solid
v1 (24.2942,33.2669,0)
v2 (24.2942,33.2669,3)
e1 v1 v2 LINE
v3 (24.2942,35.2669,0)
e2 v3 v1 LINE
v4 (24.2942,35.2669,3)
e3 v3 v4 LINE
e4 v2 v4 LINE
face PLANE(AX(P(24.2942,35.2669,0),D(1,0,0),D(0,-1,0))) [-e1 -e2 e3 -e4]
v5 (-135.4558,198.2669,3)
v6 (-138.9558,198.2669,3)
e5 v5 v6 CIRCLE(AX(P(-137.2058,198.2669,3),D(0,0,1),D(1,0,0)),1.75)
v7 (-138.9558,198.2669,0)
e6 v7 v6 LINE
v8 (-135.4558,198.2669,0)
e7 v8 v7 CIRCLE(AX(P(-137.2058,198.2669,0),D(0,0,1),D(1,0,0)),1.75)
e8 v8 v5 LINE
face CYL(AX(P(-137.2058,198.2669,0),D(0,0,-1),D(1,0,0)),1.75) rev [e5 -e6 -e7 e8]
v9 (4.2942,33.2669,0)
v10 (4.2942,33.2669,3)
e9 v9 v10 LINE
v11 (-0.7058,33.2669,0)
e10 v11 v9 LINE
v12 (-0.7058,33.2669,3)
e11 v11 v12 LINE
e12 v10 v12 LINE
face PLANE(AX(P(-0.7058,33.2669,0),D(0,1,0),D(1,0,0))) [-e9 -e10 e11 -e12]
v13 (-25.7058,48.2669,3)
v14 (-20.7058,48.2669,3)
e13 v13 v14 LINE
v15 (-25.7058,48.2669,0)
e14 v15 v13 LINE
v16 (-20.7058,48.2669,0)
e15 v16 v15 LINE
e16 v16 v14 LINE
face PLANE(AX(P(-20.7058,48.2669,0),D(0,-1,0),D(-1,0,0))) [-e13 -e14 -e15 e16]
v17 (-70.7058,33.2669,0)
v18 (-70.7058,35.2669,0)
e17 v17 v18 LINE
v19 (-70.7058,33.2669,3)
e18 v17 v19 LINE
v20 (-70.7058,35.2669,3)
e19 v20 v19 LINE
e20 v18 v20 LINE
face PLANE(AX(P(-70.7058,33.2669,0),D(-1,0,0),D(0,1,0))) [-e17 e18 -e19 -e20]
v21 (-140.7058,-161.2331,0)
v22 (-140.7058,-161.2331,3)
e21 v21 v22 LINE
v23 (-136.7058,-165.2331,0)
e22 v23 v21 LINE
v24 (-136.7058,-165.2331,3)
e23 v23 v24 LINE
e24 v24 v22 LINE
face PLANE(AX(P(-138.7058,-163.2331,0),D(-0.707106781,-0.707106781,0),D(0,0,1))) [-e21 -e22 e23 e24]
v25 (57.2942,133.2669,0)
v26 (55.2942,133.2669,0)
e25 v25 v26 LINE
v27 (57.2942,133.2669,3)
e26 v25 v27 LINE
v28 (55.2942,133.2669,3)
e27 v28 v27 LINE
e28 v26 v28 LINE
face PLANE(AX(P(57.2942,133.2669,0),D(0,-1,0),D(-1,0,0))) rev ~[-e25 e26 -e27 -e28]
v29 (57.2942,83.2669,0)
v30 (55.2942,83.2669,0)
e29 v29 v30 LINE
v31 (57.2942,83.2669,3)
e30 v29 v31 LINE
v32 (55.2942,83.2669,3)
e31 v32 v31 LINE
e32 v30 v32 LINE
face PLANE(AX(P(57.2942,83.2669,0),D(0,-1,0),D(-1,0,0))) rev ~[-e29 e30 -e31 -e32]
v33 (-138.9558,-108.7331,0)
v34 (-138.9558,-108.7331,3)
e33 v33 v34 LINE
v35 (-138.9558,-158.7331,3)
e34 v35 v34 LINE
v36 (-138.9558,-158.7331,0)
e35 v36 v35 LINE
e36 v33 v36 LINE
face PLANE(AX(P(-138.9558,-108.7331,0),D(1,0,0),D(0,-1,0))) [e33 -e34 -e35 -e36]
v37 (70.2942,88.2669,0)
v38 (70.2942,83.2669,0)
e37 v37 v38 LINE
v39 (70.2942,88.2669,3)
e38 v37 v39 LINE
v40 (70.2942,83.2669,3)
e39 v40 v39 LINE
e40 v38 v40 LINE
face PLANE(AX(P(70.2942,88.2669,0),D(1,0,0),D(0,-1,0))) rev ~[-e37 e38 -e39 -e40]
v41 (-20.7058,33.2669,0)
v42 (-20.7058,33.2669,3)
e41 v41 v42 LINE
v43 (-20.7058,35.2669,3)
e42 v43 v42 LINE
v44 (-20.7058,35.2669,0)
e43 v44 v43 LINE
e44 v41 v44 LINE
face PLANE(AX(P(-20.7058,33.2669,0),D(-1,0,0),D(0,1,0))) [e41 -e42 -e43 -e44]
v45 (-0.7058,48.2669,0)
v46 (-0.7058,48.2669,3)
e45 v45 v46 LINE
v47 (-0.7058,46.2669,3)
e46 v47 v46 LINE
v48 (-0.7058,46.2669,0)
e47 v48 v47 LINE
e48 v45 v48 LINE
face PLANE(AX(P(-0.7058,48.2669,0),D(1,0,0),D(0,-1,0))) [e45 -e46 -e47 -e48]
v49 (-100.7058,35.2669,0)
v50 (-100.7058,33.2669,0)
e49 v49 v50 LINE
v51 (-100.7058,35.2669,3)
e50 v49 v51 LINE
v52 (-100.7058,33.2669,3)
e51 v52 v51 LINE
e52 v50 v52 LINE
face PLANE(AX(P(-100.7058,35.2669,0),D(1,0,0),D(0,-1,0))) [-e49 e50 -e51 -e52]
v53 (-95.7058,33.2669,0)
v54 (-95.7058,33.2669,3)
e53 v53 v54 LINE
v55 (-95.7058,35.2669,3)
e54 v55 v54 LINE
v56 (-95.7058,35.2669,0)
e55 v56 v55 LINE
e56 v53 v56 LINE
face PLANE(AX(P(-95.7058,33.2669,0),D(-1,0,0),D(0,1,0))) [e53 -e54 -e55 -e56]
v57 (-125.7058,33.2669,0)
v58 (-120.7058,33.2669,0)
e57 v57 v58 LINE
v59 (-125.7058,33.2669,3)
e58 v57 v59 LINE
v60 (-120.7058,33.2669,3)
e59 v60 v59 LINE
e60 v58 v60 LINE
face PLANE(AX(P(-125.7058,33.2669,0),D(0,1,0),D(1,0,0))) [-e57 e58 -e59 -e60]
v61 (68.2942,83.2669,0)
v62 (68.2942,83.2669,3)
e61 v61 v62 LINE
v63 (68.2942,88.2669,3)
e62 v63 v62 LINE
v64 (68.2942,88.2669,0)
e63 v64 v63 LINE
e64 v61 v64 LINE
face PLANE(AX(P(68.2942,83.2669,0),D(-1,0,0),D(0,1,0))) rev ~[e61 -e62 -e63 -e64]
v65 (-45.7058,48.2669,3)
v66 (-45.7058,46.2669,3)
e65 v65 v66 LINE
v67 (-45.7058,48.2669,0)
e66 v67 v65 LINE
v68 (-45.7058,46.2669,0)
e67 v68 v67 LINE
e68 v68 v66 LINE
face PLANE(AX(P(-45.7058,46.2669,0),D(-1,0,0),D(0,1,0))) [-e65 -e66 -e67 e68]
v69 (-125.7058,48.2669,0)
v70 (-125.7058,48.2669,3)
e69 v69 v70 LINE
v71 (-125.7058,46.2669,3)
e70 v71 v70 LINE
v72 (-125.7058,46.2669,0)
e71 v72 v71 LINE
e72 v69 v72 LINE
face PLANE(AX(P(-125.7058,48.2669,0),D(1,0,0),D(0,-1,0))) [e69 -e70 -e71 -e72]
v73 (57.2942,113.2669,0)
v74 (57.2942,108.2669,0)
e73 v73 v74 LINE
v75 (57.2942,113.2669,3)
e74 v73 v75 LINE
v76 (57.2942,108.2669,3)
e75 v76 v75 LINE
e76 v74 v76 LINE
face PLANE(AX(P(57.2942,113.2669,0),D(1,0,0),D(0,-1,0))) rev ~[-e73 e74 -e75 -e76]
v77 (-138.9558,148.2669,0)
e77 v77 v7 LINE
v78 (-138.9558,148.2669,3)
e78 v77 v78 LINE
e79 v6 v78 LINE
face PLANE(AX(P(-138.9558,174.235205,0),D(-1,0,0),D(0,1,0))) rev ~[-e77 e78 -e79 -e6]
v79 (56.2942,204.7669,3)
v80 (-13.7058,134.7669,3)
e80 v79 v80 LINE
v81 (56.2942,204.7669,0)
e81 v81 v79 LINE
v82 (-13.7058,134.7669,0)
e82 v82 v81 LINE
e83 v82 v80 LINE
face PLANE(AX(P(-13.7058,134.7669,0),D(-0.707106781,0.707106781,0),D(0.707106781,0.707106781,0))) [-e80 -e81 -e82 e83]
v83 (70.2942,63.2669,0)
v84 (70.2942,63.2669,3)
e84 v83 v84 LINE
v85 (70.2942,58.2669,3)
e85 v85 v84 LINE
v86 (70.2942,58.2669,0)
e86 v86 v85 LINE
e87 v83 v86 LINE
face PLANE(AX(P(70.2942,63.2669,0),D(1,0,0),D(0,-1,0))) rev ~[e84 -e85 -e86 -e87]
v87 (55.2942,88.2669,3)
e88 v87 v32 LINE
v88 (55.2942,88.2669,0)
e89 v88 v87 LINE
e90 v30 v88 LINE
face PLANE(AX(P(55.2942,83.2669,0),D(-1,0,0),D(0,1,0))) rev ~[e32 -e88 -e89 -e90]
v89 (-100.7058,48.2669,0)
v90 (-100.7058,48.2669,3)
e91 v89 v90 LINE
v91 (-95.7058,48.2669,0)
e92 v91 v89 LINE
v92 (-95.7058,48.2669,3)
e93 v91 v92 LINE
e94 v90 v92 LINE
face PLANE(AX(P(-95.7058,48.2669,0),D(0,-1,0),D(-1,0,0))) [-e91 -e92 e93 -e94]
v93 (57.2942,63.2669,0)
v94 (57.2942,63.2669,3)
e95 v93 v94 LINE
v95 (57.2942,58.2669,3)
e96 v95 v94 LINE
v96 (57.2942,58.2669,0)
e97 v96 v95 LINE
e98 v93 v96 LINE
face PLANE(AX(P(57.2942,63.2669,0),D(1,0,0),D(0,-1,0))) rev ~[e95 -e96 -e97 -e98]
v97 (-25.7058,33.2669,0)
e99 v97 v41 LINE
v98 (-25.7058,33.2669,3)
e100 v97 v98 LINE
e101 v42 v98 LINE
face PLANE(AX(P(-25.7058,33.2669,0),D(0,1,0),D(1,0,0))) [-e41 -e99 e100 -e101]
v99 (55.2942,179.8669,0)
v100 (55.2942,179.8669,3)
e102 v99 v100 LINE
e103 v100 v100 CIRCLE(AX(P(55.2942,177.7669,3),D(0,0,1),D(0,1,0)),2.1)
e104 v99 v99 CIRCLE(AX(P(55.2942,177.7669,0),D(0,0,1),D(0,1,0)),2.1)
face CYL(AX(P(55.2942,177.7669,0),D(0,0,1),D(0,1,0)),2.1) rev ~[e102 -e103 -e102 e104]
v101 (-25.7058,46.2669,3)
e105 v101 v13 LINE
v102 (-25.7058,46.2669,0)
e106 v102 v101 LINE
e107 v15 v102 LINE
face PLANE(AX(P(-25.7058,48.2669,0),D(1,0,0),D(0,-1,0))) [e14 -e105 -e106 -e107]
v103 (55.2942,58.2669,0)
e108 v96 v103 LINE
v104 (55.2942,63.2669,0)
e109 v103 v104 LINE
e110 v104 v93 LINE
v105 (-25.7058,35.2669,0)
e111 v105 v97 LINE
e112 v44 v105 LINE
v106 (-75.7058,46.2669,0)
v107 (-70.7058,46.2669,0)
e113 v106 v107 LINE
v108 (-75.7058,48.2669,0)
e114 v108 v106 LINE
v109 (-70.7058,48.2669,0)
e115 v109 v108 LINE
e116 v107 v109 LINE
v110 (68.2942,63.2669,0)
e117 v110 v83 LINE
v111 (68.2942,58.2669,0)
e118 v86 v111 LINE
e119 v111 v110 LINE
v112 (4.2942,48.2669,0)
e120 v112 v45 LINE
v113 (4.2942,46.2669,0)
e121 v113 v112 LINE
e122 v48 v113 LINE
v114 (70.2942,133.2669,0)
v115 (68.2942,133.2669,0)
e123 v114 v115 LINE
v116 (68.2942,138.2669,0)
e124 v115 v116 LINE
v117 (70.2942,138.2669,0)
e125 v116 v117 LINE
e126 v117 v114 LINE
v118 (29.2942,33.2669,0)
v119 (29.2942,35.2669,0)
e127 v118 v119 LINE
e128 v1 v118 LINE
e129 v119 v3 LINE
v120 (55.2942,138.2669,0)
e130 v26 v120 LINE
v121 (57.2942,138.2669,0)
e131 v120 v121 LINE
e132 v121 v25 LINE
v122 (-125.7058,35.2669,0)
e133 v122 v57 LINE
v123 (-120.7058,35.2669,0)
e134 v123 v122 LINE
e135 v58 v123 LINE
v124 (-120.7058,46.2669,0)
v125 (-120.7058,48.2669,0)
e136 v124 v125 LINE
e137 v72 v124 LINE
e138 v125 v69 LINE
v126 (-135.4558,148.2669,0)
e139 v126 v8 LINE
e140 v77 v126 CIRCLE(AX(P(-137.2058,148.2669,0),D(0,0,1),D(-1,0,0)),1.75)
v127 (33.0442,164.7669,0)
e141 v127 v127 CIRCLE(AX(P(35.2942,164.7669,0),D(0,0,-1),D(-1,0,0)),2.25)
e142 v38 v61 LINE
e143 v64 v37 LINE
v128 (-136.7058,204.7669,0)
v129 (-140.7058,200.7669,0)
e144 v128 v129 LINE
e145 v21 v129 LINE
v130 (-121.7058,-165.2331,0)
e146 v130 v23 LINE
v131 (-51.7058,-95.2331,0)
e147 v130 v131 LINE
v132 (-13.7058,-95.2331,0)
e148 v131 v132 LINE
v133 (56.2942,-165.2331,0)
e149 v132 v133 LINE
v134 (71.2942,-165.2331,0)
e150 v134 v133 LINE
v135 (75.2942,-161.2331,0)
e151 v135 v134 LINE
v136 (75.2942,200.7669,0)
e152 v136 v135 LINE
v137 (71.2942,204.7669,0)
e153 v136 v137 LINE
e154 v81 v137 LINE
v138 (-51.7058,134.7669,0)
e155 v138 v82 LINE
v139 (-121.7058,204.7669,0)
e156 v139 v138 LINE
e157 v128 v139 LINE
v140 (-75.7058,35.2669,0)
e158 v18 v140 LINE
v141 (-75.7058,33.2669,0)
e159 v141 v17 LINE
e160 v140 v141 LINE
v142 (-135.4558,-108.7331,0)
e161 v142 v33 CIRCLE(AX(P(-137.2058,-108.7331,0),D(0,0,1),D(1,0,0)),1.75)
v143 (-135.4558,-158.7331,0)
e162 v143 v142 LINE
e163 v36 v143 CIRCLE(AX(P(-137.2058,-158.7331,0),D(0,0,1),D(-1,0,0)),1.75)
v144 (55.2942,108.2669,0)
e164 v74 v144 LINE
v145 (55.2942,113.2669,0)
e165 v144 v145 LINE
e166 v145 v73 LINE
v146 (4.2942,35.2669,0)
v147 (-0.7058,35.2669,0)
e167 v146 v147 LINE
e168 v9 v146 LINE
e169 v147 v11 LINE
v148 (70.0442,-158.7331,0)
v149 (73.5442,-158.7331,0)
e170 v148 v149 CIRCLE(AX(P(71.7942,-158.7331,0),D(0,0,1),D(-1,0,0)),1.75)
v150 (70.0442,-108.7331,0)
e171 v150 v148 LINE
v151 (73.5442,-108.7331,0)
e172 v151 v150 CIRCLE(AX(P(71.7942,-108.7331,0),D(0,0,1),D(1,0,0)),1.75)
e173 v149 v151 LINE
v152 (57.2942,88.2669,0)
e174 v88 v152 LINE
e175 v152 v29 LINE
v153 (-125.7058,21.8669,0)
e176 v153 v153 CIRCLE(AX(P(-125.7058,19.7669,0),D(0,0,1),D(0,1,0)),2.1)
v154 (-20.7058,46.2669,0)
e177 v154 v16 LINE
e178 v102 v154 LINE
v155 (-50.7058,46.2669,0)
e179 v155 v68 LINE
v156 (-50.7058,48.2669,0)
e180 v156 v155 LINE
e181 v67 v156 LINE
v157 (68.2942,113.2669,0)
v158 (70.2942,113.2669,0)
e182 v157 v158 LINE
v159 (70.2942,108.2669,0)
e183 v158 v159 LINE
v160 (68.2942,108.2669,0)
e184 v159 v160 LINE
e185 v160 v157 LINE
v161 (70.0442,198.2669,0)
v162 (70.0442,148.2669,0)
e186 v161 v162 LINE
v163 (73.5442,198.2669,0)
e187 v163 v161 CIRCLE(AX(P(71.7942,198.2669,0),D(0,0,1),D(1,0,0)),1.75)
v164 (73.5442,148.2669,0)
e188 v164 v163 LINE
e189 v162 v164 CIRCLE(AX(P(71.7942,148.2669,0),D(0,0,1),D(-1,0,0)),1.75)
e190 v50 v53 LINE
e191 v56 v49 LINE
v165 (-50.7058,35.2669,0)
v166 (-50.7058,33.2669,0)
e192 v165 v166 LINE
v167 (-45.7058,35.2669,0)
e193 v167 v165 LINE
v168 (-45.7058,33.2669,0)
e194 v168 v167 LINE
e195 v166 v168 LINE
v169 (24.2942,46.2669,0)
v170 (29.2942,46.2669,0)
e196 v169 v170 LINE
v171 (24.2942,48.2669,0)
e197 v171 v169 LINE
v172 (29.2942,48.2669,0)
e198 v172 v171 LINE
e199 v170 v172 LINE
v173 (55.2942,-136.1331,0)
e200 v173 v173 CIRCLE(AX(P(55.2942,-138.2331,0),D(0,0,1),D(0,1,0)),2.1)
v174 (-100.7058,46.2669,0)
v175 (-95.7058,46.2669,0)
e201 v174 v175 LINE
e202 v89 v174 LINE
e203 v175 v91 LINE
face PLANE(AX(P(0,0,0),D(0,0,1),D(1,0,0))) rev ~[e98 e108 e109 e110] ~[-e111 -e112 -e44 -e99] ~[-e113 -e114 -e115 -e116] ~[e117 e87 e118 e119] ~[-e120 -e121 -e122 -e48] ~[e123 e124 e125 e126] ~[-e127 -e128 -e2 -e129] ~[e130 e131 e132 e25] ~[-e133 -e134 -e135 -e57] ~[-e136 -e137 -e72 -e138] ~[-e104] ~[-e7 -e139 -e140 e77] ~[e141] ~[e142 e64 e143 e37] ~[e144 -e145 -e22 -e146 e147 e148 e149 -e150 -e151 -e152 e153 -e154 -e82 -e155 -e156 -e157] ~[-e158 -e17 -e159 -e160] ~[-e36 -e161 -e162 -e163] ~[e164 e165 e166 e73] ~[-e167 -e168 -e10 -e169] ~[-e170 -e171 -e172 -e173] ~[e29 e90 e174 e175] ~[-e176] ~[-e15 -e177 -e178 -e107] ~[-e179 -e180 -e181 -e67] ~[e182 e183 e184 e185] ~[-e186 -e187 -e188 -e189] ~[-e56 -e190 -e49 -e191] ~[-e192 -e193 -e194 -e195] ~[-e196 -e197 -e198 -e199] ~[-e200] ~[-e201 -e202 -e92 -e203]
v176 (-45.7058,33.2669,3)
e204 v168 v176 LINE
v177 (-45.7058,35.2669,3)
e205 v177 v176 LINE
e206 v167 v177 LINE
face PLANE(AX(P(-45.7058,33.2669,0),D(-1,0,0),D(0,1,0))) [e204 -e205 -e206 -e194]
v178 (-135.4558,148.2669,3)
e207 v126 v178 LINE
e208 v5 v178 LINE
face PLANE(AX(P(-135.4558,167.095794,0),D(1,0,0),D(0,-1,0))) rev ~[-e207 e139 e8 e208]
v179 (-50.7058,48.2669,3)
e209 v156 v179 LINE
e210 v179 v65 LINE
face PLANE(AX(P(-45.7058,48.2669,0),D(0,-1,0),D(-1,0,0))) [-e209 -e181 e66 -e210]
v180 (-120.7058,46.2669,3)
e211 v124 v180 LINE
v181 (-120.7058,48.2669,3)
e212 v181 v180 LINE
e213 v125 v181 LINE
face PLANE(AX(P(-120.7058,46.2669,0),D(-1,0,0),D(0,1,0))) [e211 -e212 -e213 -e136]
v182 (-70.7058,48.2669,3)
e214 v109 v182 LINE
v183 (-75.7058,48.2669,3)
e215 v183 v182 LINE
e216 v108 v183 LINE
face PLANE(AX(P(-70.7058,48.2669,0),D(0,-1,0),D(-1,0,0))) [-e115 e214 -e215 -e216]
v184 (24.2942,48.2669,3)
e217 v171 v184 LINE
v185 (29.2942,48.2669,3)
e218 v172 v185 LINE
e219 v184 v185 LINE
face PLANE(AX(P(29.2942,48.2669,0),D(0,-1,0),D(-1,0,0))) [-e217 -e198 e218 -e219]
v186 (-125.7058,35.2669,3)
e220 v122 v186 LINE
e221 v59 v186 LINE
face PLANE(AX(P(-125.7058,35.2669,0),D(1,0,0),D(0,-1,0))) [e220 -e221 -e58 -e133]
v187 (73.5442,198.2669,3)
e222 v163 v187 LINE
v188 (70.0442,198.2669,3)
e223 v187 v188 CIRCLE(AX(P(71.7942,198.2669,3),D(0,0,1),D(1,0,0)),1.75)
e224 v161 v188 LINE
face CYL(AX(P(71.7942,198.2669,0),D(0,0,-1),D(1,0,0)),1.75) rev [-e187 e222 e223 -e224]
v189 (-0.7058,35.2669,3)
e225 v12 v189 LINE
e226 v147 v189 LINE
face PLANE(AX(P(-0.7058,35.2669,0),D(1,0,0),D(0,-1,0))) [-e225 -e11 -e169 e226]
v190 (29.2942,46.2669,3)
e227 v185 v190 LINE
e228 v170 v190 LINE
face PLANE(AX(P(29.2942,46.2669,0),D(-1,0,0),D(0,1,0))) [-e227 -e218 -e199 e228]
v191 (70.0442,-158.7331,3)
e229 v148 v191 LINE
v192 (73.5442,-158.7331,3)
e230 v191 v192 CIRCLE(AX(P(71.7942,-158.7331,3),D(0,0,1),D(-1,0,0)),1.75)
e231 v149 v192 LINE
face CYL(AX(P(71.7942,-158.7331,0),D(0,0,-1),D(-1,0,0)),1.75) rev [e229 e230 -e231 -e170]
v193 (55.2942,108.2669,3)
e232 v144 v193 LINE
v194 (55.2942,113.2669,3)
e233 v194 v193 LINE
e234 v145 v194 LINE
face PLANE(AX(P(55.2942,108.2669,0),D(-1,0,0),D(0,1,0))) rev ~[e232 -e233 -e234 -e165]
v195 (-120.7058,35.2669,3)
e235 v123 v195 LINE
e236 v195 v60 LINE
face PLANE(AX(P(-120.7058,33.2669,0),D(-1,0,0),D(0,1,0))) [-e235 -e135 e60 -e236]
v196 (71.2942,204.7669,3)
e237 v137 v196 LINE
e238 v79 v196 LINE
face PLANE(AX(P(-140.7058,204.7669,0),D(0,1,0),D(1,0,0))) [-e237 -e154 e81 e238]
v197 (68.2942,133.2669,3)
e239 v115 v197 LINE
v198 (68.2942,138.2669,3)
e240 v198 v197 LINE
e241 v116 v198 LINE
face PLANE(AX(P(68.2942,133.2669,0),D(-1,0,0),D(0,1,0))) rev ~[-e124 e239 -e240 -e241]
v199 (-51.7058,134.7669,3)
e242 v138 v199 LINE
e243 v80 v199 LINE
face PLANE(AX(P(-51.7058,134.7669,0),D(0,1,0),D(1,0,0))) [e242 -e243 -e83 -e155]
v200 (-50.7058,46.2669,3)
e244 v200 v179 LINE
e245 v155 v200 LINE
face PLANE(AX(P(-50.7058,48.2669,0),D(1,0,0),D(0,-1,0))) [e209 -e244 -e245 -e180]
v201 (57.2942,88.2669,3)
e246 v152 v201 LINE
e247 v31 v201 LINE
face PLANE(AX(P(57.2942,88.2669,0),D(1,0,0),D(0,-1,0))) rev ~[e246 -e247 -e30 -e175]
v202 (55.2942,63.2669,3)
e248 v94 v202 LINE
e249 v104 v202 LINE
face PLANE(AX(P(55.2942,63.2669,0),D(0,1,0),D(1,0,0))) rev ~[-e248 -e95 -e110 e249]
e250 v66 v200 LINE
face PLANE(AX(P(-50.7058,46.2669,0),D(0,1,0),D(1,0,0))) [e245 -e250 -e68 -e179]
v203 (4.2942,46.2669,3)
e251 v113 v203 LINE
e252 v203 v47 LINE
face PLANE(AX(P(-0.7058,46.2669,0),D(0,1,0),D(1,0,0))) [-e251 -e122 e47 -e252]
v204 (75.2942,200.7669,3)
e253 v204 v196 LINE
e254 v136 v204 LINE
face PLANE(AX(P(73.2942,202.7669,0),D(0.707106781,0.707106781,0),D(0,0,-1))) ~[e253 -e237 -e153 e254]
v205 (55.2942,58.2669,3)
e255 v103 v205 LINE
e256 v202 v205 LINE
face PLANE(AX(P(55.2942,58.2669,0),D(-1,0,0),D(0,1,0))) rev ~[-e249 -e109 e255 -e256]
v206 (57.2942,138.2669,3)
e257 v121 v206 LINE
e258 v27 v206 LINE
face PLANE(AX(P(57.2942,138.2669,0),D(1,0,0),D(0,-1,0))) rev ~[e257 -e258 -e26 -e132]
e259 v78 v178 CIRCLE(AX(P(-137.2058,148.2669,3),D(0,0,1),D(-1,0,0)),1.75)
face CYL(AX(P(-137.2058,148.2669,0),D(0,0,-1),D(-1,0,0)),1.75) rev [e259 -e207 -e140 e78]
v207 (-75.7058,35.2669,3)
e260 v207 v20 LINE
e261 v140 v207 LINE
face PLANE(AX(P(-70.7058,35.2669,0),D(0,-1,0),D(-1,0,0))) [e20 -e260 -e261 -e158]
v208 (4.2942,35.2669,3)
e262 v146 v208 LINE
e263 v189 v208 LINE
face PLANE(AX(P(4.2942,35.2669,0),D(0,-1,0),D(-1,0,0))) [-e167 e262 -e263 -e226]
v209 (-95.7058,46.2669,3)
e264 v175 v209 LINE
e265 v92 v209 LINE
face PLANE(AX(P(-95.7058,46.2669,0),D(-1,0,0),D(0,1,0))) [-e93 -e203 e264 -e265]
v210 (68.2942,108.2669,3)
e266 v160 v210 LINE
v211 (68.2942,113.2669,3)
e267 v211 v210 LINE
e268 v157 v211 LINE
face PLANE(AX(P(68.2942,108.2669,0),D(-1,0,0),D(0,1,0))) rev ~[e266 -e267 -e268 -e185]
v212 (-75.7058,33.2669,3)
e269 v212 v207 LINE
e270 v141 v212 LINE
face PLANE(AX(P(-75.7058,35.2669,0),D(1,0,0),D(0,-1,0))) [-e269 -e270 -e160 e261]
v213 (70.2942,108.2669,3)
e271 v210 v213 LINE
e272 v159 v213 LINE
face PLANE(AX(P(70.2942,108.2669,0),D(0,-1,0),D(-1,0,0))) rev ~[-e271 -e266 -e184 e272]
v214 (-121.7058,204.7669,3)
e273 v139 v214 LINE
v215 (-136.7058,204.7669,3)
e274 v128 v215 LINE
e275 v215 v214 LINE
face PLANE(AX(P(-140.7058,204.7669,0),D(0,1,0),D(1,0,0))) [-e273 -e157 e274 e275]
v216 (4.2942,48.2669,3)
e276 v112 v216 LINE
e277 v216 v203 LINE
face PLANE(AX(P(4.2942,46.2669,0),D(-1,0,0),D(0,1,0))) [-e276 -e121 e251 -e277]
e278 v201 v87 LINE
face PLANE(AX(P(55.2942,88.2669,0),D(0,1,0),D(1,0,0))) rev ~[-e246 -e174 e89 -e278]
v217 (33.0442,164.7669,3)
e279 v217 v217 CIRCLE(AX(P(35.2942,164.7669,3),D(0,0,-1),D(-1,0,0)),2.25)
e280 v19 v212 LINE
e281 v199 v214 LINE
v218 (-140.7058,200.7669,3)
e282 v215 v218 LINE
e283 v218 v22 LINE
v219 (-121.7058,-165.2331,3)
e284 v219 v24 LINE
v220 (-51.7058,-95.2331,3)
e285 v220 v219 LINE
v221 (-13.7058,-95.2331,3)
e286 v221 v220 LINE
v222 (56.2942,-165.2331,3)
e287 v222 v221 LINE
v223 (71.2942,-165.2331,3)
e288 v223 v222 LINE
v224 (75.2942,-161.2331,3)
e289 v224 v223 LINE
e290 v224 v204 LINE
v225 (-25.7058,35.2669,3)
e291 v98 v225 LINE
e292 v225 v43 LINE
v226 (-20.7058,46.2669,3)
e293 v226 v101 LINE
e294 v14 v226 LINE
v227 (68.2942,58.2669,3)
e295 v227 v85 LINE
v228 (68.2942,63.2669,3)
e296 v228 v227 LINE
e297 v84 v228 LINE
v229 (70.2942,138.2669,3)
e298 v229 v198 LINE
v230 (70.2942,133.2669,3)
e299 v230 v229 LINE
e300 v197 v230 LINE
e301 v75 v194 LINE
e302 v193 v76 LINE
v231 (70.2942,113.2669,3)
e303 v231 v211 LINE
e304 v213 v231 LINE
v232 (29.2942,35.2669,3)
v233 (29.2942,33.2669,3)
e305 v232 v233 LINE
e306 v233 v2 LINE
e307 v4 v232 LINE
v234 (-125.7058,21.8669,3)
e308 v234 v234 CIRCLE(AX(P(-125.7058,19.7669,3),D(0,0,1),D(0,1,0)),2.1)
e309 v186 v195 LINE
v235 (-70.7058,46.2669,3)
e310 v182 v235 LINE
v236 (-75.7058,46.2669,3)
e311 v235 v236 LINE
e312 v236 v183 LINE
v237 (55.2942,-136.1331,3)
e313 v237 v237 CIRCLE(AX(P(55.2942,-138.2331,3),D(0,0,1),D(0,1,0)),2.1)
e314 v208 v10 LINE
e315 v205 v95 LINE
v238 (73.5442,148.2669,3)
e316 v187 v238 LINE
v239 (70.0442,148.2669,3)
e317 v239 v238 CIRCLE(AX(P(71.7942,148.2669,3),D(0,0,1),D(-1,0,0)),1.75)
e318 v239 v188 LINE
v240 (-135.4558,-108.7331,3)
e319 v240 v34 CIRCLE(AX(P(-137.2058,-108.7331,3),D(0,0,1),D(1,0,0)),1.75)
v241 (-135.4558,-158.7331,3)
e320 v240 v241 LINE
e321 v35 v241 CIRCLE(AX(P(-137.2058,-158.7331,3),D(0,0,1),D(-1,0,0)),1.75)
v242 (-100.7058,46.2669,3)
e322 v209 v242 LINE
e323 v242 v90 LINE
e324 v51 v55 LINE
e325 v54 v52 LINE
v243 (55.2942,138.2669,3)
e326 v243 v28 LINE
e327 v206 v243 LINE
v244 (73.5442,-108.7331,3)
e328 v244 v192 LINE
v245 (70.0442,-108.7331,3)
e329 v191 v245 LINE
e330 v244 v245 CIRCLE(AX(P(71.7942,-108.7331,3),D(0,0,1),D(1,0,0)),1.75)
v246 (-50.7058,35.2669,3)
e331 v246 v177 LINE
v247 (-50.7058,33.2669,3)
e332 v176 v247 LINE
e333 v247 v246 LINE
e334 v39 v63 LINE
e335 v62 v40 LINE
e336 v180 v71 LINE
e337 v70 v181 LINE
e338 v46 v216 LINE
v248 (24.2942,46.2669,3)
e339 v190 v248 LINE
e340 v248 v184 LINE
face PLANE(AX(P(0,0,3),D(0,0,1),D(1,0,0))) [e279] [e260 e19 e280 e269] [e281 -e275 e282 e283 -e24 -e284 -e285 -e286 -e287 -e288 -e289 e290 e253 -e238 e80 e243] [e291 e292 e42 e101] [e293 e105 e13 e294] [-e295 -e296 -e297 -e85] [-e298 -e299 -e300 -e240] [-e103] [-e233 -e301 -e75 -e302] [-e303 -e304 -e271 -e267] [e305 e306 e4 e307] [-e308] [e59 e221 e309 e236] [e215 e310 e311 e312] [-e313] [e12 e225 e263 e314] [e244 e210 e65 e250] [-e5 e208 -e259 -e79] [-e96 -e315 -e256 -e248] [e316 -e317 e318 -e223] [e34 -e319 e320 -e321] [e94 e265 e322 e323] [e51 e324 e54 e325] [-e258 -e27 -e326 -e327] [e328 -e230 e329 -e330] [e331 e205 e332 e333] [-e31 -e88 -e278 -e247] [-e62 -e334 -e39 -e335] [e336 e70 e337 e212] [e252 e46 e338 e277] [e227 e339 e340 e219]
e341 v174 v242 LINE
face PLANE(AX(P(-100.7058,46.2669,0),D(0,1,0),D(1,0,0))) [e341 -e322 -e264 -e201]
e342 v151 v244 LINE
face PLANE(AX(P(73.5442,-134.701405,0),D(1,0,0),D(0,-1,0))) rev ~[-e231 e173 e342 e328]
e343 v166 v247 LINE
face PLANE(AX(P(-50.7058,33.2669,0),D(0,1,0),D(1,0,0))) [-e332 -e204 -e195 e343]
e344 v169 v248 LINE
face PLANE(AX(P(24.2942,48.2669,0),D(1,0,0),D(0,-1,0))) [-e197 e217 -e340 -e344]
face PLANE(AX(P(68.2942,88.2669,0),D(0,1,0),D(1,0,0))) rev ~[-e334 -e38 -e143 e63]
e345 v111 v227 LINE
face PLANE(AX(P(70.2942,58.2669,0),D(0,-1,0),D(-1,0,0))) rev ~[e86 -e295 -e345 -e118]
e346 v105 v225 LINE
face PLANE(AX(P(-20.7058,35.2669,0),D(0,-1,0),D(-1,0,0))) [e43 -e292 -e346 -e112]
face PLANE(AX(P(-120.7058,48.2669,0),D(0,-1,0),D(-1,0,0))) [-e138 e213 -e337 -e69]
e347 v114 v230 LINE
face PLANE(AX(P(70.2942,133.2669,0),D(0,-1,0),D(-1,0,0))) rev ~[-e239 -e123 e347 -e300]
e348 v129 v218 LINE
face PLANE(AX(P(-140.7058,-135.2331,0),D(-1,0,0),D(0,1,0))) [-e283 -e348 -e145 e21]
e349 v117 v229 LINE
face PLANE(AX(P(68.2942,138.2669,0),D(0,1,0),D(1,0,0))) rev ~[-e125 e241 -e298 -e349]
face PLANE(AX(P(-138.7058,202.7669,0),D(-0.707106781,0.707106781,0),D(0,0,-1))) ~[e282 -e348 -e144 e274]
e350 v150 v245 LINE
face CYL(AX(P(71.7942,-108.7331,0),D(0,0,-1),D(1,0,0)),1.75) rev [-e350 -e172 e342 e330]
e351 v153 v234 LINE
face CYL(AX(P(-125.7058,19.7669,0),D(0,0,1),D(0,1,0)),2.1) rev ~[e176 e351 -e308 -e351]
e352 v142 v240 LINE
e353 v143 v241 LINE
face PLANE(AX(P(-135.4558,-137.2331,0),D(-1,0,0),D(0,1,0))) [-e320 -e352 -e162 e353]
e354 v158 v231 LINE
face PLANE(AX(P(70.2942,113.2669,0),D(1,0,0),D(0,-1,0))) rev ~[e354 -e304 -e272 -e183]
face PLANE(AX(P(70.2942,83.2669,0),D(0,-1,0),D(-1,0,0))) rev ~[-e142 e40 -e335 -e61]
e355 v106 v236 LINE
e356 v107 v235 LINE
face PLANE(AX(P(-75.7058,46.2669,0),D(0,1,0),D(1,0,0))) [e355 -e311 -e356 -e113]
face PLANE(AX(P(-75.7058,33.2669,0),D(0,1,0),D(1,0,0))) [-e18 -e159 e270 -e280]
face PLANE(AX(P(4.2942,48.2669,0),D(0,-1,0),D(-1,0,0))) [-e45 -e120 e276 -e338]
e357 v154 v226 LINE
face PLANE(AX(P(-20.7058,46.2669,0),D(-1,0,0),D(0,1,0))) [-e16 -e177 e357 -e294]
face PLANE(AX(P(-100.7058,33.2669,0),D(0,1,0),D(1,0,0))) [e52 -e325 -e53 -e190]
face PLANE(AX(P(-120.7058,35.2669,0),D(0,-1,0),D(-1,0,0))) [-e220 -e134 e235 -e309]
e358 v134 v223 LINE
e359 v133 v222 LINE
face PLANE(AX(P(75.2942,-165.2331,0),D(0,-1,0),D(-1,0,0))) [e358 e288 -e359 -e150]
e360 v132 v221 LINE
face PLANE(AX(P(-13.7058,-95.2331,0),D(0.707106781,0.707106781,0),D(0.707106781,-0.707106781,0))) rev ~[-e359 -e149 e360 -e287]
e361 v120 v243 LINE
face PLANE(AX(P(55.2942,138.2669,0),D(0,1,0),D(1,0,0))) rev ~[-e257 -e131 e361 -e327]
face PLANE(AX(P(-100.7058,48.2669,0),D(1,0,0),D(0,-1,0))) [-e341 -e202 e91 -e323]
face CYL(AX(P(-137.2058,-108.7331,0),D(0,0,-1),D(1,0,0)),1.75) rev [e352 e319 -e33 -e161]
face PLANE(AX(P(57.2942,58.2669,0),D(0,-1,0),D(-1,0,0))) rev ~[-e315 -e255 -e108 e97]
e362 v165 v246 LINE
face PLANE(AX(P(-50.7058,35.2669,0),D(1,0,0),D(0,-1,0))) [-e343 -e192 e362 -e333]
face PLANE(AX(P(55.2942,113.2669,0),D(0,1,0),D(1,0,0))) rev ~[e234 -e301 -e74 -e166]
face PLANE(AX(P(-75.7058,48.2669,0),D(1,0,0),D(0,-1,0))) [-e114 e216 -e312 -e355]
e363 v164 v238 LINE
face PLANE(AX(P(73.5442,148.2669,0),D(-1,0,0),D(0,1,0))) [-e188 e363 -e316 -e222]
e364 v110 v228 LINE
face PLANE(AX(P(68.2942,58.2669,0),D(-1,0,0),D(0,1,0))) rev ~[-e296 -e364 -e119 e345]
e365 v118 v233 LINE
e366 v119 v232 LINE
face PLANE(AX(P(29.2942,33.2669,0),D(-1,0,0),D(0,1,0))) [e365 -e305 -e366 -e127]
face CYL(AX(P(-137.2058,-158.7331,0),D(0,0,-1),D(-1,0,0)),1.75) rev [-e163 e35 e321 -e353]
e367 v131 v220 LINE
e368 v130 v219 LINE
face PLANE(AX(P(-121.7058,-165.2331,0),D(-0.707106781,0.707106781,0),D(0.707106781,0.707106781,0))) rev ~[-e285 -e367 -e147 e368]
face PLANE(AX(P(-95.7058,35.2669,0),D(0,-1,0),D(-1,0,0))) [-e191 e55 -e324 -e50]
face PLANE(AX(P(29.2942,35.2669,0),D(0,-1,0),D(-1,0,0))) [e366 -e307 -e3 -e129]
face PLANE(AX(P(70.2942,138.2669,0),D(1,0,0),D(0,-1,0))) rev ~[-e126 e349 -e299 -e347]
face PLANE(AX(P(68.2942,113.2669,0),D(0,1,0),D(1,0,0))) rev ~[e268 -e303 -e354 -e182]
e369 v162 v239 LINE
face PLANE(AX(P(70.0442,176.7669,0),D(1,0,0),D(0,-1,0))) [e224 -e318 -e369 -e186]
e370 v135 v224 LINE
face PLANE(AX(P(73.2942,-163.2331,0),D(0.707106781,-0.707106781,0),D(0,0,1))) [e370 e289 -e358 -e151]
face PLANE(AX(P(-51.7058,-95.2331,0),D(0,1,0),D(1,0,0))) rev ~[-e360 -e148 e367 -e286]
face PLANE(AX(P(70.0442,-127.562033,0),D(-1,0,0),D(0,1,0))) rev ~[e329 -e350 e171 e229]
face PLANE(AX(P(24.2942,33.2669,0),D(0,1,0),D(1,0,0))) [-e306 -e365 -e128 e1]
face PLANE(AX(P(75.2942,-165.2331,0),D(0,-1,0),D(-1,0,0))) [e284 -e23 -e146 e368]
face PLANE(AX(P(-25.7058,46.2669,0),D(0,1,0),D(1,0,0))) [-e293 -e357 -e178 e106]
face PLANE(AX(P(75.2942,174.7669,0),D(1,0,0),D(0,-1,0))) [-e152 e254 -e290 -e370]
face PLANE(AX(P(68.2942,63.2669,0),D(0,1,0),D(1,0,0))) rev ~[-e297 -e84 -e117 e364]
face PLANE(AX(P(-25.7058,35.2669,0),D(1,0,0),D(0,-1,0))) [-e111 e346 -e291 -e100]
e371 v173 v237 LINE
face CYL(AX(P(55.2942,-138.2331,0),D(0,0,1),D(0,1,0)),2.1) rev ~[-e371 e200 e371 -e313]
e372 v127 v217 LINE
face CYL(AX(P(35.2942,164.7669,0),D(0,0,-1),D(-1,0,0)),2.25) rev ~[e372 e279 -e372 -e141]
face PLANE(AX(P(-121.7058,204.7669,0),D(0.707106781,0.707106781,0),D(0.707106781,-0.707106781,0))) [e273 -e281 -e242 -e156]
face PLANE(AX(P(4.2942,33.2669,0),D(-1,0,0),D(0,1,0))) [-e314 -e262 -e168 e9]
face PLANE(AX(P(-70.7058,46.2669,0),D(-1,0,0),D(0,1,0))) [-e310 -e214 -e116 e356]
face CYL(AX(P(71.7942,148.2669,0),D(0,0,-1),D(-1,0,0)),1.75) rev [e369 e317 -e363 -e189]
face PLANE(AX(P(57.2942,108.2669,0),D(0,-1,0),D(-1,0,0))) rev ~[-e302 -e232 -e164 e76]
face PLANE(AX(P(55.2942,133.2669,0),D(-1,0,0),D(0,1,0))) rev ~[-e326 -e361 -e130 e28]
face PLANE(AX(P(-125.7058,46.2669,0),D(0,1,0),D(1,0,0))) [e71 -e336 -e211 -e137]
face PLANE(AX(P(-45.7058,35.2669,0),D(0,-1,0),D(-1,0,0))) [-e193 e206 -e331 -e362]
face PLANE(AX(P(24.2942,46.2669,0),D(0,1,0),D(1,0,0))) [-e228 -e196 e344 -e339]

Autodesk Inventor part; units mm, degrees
ref_plane "YZ Plane" through (0, 0, 0) normal (1, 0, 0) x (0, 1, 0)
ref_plane "XZ Plane" through (0, 0, 0) normal (0, 1, 0) x (-1, 0, 0)
ref_plane "XY Plane" through (0, 0, 0) normal (0, 0, 1) x (1, 0, 0)
sketch "Sketch1" plane through (0, 0, 0) normal (0, 0, 1) x (1, 0, 0)
  arc A0 (-138.7058, 176.7669) -> (-140.7058, 174.7669) centre (-138.7058, 174.7669) ccw projected
  line L0 (-138.7058, 176.7669) -> (73.2942, 176.7669) projected
  arc A1 (75.2942, 174.7669) -> (73.2942, 176.7669) centre (73.2942, 174.7669) ccw projected
  line L1 (75.2942, 174.7669) -> (75.2942, -135.2331) projected
  arc A2 (73.2942, -137.2331) -> (75.2942, -135.2331) centre (73.2942, -135.2331) ccw projected
  line L2 (73.2942, -137.2331) -> (-138.7058, -137.2331) projected
  arc A3 (-140.7058, -135.2331) -> (-138.7058, -137.2331) centre (-138.7058, -135.2331) ccw projected
  line L3 (-140.7058, -135.2331) -> (-140.7058, 174.7669) projected
  arc A4 (-135.5477, 174.3853) -> (-138.8639, 172.1485) centre (-137.2058, 173.2669) ccw projected
  line L4 (-138.8639, 172.1485) -> (-134.67, 165.9308) projected
  arc A5 (-134.67, 165.9308) -> (-131.3538, 168.1675) centre (-133.0119, 167.0491) ccw projected
  line L5 (-131.3538, 168.1675) -> (-135.5477, 174.3853) projected
  line L6 (-135.5477, -134.8515) -> (-131.3538, -128.6337) projected
  arc A6 (-131.3538, -128.6337) -> (-134.67, -126.3969) centre (-133.0119, -127.5153) ccw projected
  line L7 (-134.67, -126.3969) -> (-138.8639, -132.6147) projected
  arc A7 (-138.8639, -132.6147) -> (-135.5477, -134.8515) centre (-137.2058, -133.7331) ccw projected
  arc A8 (69.2583, -126.3969) -> (65.9422, -128.6337) centre (67.6002, -127.5153) ccw projected
  line L8 (65.9422, -128.6337) -> (70.1361, -134.8515) projected
  arc A9 (70.1361, -134.8515) -> (73.4523, -132.6147) centre (71.7942, -133.7331) ccw projected
  line L9 (73.4523, -132.6147) -> (69.2583, -126.3969) projected
  line L10 (70.1361, 174.3853) -> (65.9422, 168.1675) projected
  arc A10 (65.9422, 168.1675) -> (69.2583, 165.9308) centre (67.6002, 167.0491) ccw projected
  line L11 (69.2583, 165.9308) -> (73.4523, 172.1485) projected
  arc A11 (73.4523, 172.1485) -> (70.1361, 174.3853) centre (71.7942, 173.2669) ccw projected
  line L12 (-140.7058, 174.7669) -> (-140.7058, 204.7669)
  line L13 (-140.7058, 204.7669) -> (75.2942, 204.7669)
  line L14 (75.2942, 204.7669) -> (75.2942, 174.7669)
  line L15 (75.2942, -135.2331) -> (75.2942, -165.2331)
  line L16 (75.2942, -165.2331) -> (-140.7058, -165.2331)
  line L17 (-140.7058, -135.2331) -> (-140.7058, -165.2331)
  line L18 (71.7942, 148.2669) -> (71.7942, 198.2669) construction
  line L19 (73.5442, 148.2669) -> (73.5442, 198.2669)
  line L20 (70.0442, 198.2669) -> (70.0442, 148.2669)
  arc A12 (70.0442, 148.2669) -> (73.5442, 148.2669) centre (71.7942, 148.2669) ccw
  arc A13 (73.5442, 198.2669) -> (70.0442, 198.2669) centre (71.7942, 198.2669) ccw
  line L21 (-137.2058, 148.2669) -> (-137.2058, 198.2669) construction
  line L22 (-138.9558, 148.2669) -> (-138.9558, 198.2669)
  line L23 (-135.4558, 198.2669) -> (-135.4558, 148.2669)
  arc A14 (-138.9558, 148.2669) -> (-135.4558, 148.2669) centre (-137.2058, 148.2669) ccw
  arc A15 (-135.4558, 198.2669) -> (-138.9558, 198.2669) centre (-137.2058, 198.2669) ccw
  line L24 (-137.2058, -158.7331) -> (-137.2058, -108.7331) construction
  line L25 (-135.4558, -158.7331) -> (-135.4558, -108.7331)
  line L26 (-138.9558, -108.7331) -> (-138.9558, -158.7331)
  arc A16 (-138.9558, -158.7331) -> (-135.4558, -158.7331) centre (-137.2058, -158.7331) ccw
  arc A17 (-135.4558, -108.7331) -> (-138.9558, -108.7331) centre (-137.2058, -108.7331) ccw
  line L27 (71.7942, -108.7331) -> (71.7942, -158.7331) construction
  line L28 (73.5442, -108.7331) -> (73.5442, -158.7331)
  line L29 (70.0442, -158.7331) -> (70.0442, -108.7331)
  arc A18 (73.5442, -108.7331) -> (70.0442, -108.7331) centre (71.7942, -108.7331) ccw
  arc A19 (70.0442, -158.7331) -> (73.5442, -158.7331) centre (71.7942, -158.7331) ccw
  point P0 (0, 0)
  point P1 (70.0442, -134.7152)
  point P2 (70.0442, -127.562)
  dimension "d13" = 30
  dimension "d14" = 3.5
  dimension "d15" = 50
extrude "Extrusion1" add sketch "Sketch1" along normal blind 3 contours L22 A4 A14 L23 L4 A5 L5 L0 L20 L10 A10 L11 A12 L19 A11 A1 L1 A2 L28 A9 A18 L29 L9 A8 L8 L2 L25 L6 A6 L7 A17 L26 A7 A3 L3 A0 | A0 L12 L13 L14 A1 L19 A13 L20 L0 L23 A15 L22 | L22 A4 | L5 A5 L4 L23 | A3 L26 A16 L25 L2 L29 A19 L28 A2 L15 L16 L17 | L20 L11 A10 L10 | A7 L26 | A11 L19 | L25 L7 A6 L6 | L8 A8 L9 L29 | L28 A9
sketch "Sketch2" plane through (0, 0, 0) normal (0, 0, -1) x (-1, 0, 0)
  line L0 (-70.0442, -158.7331) -> (-70.0442, -108.7331) projected
  arc A0 (-70.0442, -108.7331) -> (-73.5442, -108.7331) centre (-71.7942, -108.7331) ccw projected
  line L1 (-73.5442, -108.7331) -> (-73.5442, -158.7331) projected
  arc A1 (-73.5442, -158.7331) -> (-70.0442, -158.7331) centre (-71.7942, -158.7331) ccw projected
  line L2 (-75.2942, 204.7669) -> (140.7058, 204.7669) projected
  line L3 (-75.2942, -165.2331) -> (-75.2942, 204.7669) projected
  line L4 (140.7058, -165.2331) -> (-75.2942, -165.2331) projected
  line L5 (140.7058, 204.7669) -> (140.7058, -165.2331) projected
  line L6 (-73.5442, 198.2669) -> (-73.5442, 148.2669) projected
  arc A2 (-70.0442, 198.2669) -> (-73.5442, 198.2669) centre (-71.7942, 198.2669) ccw projected
  line L7 (-70.0442, 148.2669) -> (-70.0442, 198.2669) projected
  arc A3 (-73.5442, 148.2669) -> (-70.0442, 148.2669) centre (-71.7942, 148.2669) ccw projected
  line L8 (135.4558, 198.2669) -> (135.4558, 148.2669) projected
  arc A4 (138.9558, 198.2669) -> (135.4558, 198.2669) centre (137.2058, 198.2669) ccw projected
  line L9 (138.9558, 148.2669) -> (138.9558, 198.2669) projected
  arc A5 (135.4558, 148.2669) -> (138.9558, 148.2669) centre (137.2058, 148.2669) ccw projected
  line L10 (138.9558, -158.7331) -> (138.9558, -108.7331) projected
  arc A6 (135.4558, -158.7331) -> (138.9558, -158.7331) centre (137.2058, -158.7331) ccw projected
  line L11 (135.4558, -108.7331) -> (135.4558, -158.7331) projected
  arc A7 (138.9558, -108.7331) -> (135.4558, -108.7331) centre (137.2058, -108.7331) ccw projected
  line L12 (-70.0442, -158.7331) -> (-70.0442, -108.7331) projected
  arc A8 (-73.5442, -158.7331) -> (-70.0442, -158.7331) centre (-71.7942, -158.7331) ccw projected
  line L13 (-73.5442, -108.7331) -> (-73.5442, -158.7331) projected
  arc A9 (-70.0442, -108.7331) -> (-73.5442, -108.7331) centre (-71.7942, -108.7331) ccw projected
  line L14 (140.7058, 204.7669) -> (140.7058, -165.2331) projected
  point P0 (0, 0)
  point P1 (-55.2942, -138.2331)
  point P2 (-55.2942, 177.7669)
  point P3 (125.7058, 19.7669)
  point P4 (140.7058, 19.7669)
  point P5 (140.7058, 19.7669)
  dimension "d17" = 15
  dimension "d18" = 27
  dimension "d19" = 20
  dimension "d20" = 27
hole "Hole1" at (55.2942, -138.2331, 0) at (55.2942, 177.7669, 0) at (-125.7058, 19.7669, 0) direction (0, 0, 1) diameter 4.2 end through all
chamfer "Chamfer1" distance 4 angle 45 4 edges at (75.2942, 204.7669, 1.5) (75.2942, -165.2331, 1.5) (-140.7058, -165.2331, 1.5) (-140.7058, 204.7669, 1.5)
sketch "Sketch3" plane through (0, 0, 0) normal (0, 0, -1) x (-1, 0, 0)
  line L0 (136.7058, 204.7669) -> (140.7058, 200.7669) projected
  line L1 (-71.2942, 204.7669) -> (136.7058, 204.7669) projected
  line L2 (-75.2942, 200.7669) -> (-71.2942, 204.7669) projected
  line L3 (-75.2942, -161.2331) -> (-75.2942, 200.7669) projected
  line L4 (-71.2942, -165.2331) -> (-75.2942, -161.2331) projected
  line L5 (136.7058, -165.2331) -> (-71.2942, -165.2331) projected
  line L6 (140.7058, -161.2331) -> (136.7058, -165.2331) projected
  line L7 (140.7058, 200.7669) -> (140.7058, -161.2331) projected
  circle A0 centre (-55.2942, 177.7669) radius 2.1 projected
  circle A1 centre (-55.2942, -138.2331) radius 2.1 projected
  circle A2 centre (125.7058, 19.7669) radius 2.1 projected
  line L8 (-73.5442, 198.2669) -> (-73.5442, 148.2669) projected
  arc A3 (-70.0442, 198.2669) -> (-73.5442, 198.2669) centre (-71.7942, 198.2669) ccw projected
  line L9 (-70.0442, 148.2669) -> (-70.0442, 198.2669) projected
  arc A4 (-73.5442, 148.2669) -> (-70.0442, 148.2669) centre (-71.7942, 148.2669) ccw projected
  line L10 (135.4558, 198.2669) -> (135.4558, 148.2669) projected
  arc A5 (138.9558, 198.2669) -> (135.4558, 198.2669) centre (137.2058, 198.2669) ccw projected
  line L11 (138.9558, 148.2669) -> (138.9558, 198.2669) projected
  arc A6 (135.4558, 148.2669) -> (138.9558, 148.2669) centre (137.2058, 148.2669) ccw projected
  line L12 (138.9558, -158.7331) -> (138.9558, -108.7331) projected
  arc A7 (135.4558, -158.7331) -> (138.9558, -158.7331) centre (137.2058, -158.7331) ccw projected
  line L13 (135.4558, -108.7331) -> (135.4558, -158.7331) projected
  arc A8 (138.9558, -108.7331) -> (135.4558, -108.7331) centre (137.2058, -108.7331) ccw projected
  line L14 (-70.0442, -158.7331) -> (-70.0442, -108.7331) projected
  arc A9 (-73.5442, -158.7331) -> (-70.0442, -158.7331) centre (-71.7942, -158.7331) ccw projected
  line L15 (-73.5442, -108.7331) -> (-73.5442, -158.7331) projected
  arc A10 (-70.0442, -108.7331) -> (-73.5442, -108.7331) centre (-71.7942, -108.7331) ccw projected
  line L16 (-57.2942, 133.2669) -> (-55.2942, 133.2669)
  line L17 (-55.2942, 133.2669) -> (-55.2942, 138.2669)
  line L18 (-55.2942, 138.2669) -> (-57.2942, 138.2669)
  line L19 (-57.2942, 138.2669) -> (-57.2942, 133.2669)
  line L20 (-70.2942, 133.2669) -> (-68.2942, 133.2669)
  line L21 (-68.2942, 133.2669) -> (-68.2942, 138.2669)
  line L22 (-68.2942, 138.2669) -> (-70.2942, 138.2669)
  line L23 (-70.2942, 138.2669) -> (-70.2942, 133.2669)
  line L24 (-68.2942, 108.2669) -> (-68.2942, 113.2669)
  line L25 (-70.2942, 108.2669) -> (-68.2942, 108.2669)
  line L26 (-70.2942, 113.2669) -> (-70.2942, 108.2669)
  line L27 (-68.2942, 113.2669) -> (-70.2942, 113.2669)
  line L28 (-57.2942, 113.2669) -> (-57.2942, 108.2669)
  line L29 (-55.2942, 113.2669) -> (-57.2942, 113.2669)
  line L30 (-57.2942, 108.2669) -> (-55.2942, 108.2669)
  line L31 (-55.2942, 108.2669) -> (-55.2942, 113.2669)
  line L32 (-68.2942, 83.2669) -> (-68.2942, 88.2669)
  line L33 (-70.2942, 83.2669) -> (-68.2942, 83.2669)
  line L34 (-70.2942, 88.2669) -> (-70.2942, 83.2669)
  line L35 (-68.2942, 88.2669) -> (-70.2942, 88.2669)
  line L36 (-57.2942, 88.2669) -> (-57.2942, 83.2669)
  line L37 (-55.2942, 88.2669) -> (-57.2942, 88.2669)
  line L38 (-57.2942, 83.2669) -> (-55.2942, 83.2669)
  line L39 (-55.2942, 83.2669) -> (-55.2942, 88.2669)
  line L40 (-68.2942, 58.2669) -> (-68.2942, 63.2669)
  line L41 (-70.2942, 58.2669) -> (-68.2942, 58.2669)
  line L42 (-70.2942, 63.2669) -> (-70.2942, 58.2669)
  line L43 (-68.2942, 63.2669) -> (-70.2942, 63.2669)
  line L44 (-57.2942, 63.2669) -> (-57.2942, 58.2669)
  line L45 (-55.2942, 63.2669) -> (-57.2942, 63.2669)
  line L46 (-57.2942, 58.2669) -> (-55.2942, 58.2669)
  line L47 (-55.2942, 58.2669) -> (-55.2942, 63.2669)
  line L48 (-68.2942, 33.2669) -> (-68.2942, 38.2669)
  line L49 (-70.2942, 33.2669) -> (-68.2942, 33.2669)
  line L50 (-70.2942, 38.2669) -> (-70.2942, 33.2669)
  line L51 (-68.2942, 38.2669) -> (-70.2942, 38.2669)
  line L52 (-57.2942, 38.2669) -> (-57.2942, 33.2669)
  line L53 (-55.2942, 38.2669) -> (-57.2942, 38.2669)
  line L54 (-57.2942, 33.2669) -> (-55.2942, 33.2669)
  line L55 (-55.2942, 33.2669) -> (-55.2942, 38.2669)
  line L56 (125.7058, 33.2669) -> (120.7058, 33.2669)
  line L57 (120.7058, 33.2669) -> (120.7058, 35.2669)
  line L58 (120.7058, 35.2669) -> (125.7058, 35.2669)
  line L59 (125.7058, 35.2669) -> (125.7058, 33.2669)
  line L60 (125.7058, 46.2669) -> (120.7058, 46.2669)
  line L61 (120.7058, 46.2669) -> (120.7058, 48.2669)
  line L62 (120.7058, 48.2669) -> (125.7058, 48.2669)
  line L63 (125.7058, 48.2669) -> (125.7058, 46.2669)
  line L64 (95.7058, 48.2669) -> (100.7058, 48.2669)
  line L65 (100.7058, 48.2669) -> (100.7058, 46.2669)
  line L66 (95.7058, 46.2669) -> (95.7058, 48.2669)
  line L67 (100.7058, 46.2669) -> (95.7058, 46.2669)
  line L68 (95.7058, 35.2669) -> (100.7058, 35.2669)
  line L69 (100.7058, 35.2669) -> (100.7058, 33.2669)
  line L70 (95.7058, 33.2669) -> (95.7058, 35.2669)
  line L71 (100.7058, 33.2669) -> (95.7058, 33.2669)
  line L72 (70.7058, 48.2669) -> (75.7058, 48.2669)
  line L73 (75.7058, 48.2669) -> (75.7058, 46.2669)
  line L74 (70.7058, 46.2669) -> (70.7058, 48.2669)
  line L75 (75.7058, 46.2669) -> (70.7058, 46.2669)
  line L76 (70.7058, 35.2669) -> (75.7058, 35.2669)
  line L77 (75.7058, 35.2669) -> (75.7058, 33.2669)
  line L78 (70.7058, 33.2669) -> (70.7058, 35.2669)
  line L79 (75.7058, 33.2669) -> (70.7058, 33.2669)
  line L80 (45.7058, 48.2669) -> (50.7058, 48.2669)
  line L81 (50.7058, 48.2669) -> (50.7058, 46.2669)
  line L82 (45.7058, 46.2669) -> (45.7058, 48.2669)
  line L83 (50.7058, 46.2669) -> (45.7058, 46.2669)
  line L84 (45.7058, 35.2669) -> (50.7058, 35.2669)
  line L85 (50.7058, 35.2669) -> (50.7058, 33.2669)
  line L86 (45.7058, 33.2669) -> (45.7058, 35.2669)
  line L87 (50.7058, 33.2669) -> (45.7058, 33.2669)
  line L88 (20.7058, 48.2669) -> (25.7058, 48.2669)
  line L89 (25.7058, 48.2669) -> (25.7058, 46.2669)
  line L90 (20.7058, 46.2669) -> (20.7058, 48.2669)
  line L91 (25.7058, 46.2669) -> (20.7058, 46.2669)
  line L92 (20.7058, 35.2669) -> (25.7058, 35.2669)
  line L93 (25.7058, 35.2669) -> (25.7058, 33.2669)
  line L94 (20.7058, 33.2669) -> (20.7058, 35.2669)
  line L95 (25.7058, 33.2669) -> (20.7058, 33.2669)
  line L96 (-4.2942, 48.2669) -> (0.7058, 48.2669)
  line L97 (0.7058, 48.2669) -> (0.7058, 46.2669)
  line L98 (-4.2942, 46.2669) -> (-4.2942, 48.2669)
  line L99 (0.7058, 46.2669) -> (-4.2942, 46.2669)
  line L100 (-4.2942, 35.2669) -> (0.7058, 35.2669)
  line L101 (0.7058, 35.2669) -> (0.7058, 33.2669)
  line L102 (-4.2942, 33.2669) -> (-4.2942, 35.2669)
  line L103 (0.7058, 33.2669) -> (-4.2942, 33.2669)
  line L104 (-29.2942, 48.2669) -> (-24.2942, 48.2669)
  line L105 (-24.2942, 48.2669) -> (-24.2942, 46.2669)
  line L106 (-29.2942, 46.2669) -> (-29.2942, 48.2669)
  line L107 (-24.2942, 46.2669) -> (-29.2942, 46.2669)
  line L108 (-29.2942, 35.2669) -> (-24.2942, 35.2669)
  line L109 (-24.2942, 35.2669) -> (-24.2942, 33.2669)
  line L110 (-29.2942, 33.2669) -> (-29.2942, 35.2669)
  line L111 (-24.2942, 33.2669) -> (-29.2942, 33.2669)
  line L112 (-71.2942, 204.7669) -> (136.7058, 204.7669) projected
  line L113 (121.7058, 204.7669) -> (51.7058, 134.7669)
  line L114 (51.7058, 134.7669) -> (13.7058, 134.7669)
  line L115 (13.7058, 134.7669) -> (-56.2942, 204.7669)
  line L116 (136.7058, 204.7669) -> (140.7058, 200.7669) projected
  line L117 (-75.2942, 200.7669) -> (-71.2942, 204.7669) projected
  line L118 (136.7058, -165.2331) -> (-71.2942, -165.2331) projected
  line L119 (121.7058, -165.2331) -> (51.7058, -95.2331)
  line L120 (51.7058, -95.2331) -> (13.7058, -95.2331)
  line L121 (13.7058, -95.2331) -> (-56.2942, -165.2331)
  line L122 (140.7058, -161.2331) -> (136.7058, -165.2331) projected
  line L123 (-71.2942, -165.2331) -> (-75.2942, -161.2331) projected
  circle A11 centre (-35.2942, 164.7669) radius 2.25
  point P0 (0, 0)
  point P1 (-55.2942, 135.7669)
  point P2 (-70.2942, 135.7669)
  point P3 (-56.2942, 133.2669)
  point P4 (-69.2942, 133.2669)
  point P5 (-69.2942, 108.2669)
  point P6 (-70.2942, 110.7669)
  point P7 (-56.2942, 108.2669)
  point P8 (-55.2942, 110.7669)
  point P9 (-69.2942, 83.2669)
  point P10 (-70.2942, 85.7669)
  point P11 (-56.2942, 83.2669)
  point P12 (-55.2942, 85.7669)
  point P13 (-69.2942, 58.2669)
  point P14 (-70.2942, 60.7669)
  point P15 (-56.2942, 58.2669)
  point P16 (-55.2942, 60.7669)
  point P17 (-69.2942, 33.2669)
  point P18 (-70.2942, 35.7669)
  point P19 (-56.2942, 33.2669)
  point P20 (-55.2942, 35.7669)
  point P21 (-69.2942, 138.2669)
  dimension "d34" = 25
  dimension "d39" = 5
  dimension "d40" = 2
  dimension "d41" = 10
  dimension "d42" = 5
  dimension "d43" = 15
  dimension "d44" = 15
  dimension "d45" = 15
  dimension "d48" = 25
  dimension "d56" = 15
  dimension "d57" = 15
  dimension "d58" = 70
  dimension "d59" = 4.5
  dimension "d60" = 40
  dimension "d61" = 40
extrude "Extrusion2" cut sketch "Sketch3" against normal through all contours L113 L114 L115 L1 | L5 L121 L120 L119 | L19 L18 L17 L16 | L23 L22 L21 L20 | L25 L26 L27 L24 | L29 L31 L30 L28 | L33 L34 L35 L32 | L37 L39 L38 L36 | L41 L42 L43 L40 | L45 L47 L46 L44 | L56 L57 L58 L59 | L60 L61 L62 L63 | L64 L65 L67 L66 | L68 L69 L71 L70 | L72 L73 L75 L74 | L76 L77 L79 L78 | L80 L81 L83 L82 | L84 L85 L87 L86 | L88 L89 L91 L90 | L92 L93 L95 L94 | L96 L97 L99 L98 | L100 L101 L103 L102 | L104 L105 L107 L106 | L108 L109 L111 L110 | A11
equation "\"d20\" = d18"
equation "\"d44\" = d43"
equation "\"d57\" = d56"
equation "\"d61\" = d60"
properties part number "Bed Carrier" material "Aluminum 6061"
